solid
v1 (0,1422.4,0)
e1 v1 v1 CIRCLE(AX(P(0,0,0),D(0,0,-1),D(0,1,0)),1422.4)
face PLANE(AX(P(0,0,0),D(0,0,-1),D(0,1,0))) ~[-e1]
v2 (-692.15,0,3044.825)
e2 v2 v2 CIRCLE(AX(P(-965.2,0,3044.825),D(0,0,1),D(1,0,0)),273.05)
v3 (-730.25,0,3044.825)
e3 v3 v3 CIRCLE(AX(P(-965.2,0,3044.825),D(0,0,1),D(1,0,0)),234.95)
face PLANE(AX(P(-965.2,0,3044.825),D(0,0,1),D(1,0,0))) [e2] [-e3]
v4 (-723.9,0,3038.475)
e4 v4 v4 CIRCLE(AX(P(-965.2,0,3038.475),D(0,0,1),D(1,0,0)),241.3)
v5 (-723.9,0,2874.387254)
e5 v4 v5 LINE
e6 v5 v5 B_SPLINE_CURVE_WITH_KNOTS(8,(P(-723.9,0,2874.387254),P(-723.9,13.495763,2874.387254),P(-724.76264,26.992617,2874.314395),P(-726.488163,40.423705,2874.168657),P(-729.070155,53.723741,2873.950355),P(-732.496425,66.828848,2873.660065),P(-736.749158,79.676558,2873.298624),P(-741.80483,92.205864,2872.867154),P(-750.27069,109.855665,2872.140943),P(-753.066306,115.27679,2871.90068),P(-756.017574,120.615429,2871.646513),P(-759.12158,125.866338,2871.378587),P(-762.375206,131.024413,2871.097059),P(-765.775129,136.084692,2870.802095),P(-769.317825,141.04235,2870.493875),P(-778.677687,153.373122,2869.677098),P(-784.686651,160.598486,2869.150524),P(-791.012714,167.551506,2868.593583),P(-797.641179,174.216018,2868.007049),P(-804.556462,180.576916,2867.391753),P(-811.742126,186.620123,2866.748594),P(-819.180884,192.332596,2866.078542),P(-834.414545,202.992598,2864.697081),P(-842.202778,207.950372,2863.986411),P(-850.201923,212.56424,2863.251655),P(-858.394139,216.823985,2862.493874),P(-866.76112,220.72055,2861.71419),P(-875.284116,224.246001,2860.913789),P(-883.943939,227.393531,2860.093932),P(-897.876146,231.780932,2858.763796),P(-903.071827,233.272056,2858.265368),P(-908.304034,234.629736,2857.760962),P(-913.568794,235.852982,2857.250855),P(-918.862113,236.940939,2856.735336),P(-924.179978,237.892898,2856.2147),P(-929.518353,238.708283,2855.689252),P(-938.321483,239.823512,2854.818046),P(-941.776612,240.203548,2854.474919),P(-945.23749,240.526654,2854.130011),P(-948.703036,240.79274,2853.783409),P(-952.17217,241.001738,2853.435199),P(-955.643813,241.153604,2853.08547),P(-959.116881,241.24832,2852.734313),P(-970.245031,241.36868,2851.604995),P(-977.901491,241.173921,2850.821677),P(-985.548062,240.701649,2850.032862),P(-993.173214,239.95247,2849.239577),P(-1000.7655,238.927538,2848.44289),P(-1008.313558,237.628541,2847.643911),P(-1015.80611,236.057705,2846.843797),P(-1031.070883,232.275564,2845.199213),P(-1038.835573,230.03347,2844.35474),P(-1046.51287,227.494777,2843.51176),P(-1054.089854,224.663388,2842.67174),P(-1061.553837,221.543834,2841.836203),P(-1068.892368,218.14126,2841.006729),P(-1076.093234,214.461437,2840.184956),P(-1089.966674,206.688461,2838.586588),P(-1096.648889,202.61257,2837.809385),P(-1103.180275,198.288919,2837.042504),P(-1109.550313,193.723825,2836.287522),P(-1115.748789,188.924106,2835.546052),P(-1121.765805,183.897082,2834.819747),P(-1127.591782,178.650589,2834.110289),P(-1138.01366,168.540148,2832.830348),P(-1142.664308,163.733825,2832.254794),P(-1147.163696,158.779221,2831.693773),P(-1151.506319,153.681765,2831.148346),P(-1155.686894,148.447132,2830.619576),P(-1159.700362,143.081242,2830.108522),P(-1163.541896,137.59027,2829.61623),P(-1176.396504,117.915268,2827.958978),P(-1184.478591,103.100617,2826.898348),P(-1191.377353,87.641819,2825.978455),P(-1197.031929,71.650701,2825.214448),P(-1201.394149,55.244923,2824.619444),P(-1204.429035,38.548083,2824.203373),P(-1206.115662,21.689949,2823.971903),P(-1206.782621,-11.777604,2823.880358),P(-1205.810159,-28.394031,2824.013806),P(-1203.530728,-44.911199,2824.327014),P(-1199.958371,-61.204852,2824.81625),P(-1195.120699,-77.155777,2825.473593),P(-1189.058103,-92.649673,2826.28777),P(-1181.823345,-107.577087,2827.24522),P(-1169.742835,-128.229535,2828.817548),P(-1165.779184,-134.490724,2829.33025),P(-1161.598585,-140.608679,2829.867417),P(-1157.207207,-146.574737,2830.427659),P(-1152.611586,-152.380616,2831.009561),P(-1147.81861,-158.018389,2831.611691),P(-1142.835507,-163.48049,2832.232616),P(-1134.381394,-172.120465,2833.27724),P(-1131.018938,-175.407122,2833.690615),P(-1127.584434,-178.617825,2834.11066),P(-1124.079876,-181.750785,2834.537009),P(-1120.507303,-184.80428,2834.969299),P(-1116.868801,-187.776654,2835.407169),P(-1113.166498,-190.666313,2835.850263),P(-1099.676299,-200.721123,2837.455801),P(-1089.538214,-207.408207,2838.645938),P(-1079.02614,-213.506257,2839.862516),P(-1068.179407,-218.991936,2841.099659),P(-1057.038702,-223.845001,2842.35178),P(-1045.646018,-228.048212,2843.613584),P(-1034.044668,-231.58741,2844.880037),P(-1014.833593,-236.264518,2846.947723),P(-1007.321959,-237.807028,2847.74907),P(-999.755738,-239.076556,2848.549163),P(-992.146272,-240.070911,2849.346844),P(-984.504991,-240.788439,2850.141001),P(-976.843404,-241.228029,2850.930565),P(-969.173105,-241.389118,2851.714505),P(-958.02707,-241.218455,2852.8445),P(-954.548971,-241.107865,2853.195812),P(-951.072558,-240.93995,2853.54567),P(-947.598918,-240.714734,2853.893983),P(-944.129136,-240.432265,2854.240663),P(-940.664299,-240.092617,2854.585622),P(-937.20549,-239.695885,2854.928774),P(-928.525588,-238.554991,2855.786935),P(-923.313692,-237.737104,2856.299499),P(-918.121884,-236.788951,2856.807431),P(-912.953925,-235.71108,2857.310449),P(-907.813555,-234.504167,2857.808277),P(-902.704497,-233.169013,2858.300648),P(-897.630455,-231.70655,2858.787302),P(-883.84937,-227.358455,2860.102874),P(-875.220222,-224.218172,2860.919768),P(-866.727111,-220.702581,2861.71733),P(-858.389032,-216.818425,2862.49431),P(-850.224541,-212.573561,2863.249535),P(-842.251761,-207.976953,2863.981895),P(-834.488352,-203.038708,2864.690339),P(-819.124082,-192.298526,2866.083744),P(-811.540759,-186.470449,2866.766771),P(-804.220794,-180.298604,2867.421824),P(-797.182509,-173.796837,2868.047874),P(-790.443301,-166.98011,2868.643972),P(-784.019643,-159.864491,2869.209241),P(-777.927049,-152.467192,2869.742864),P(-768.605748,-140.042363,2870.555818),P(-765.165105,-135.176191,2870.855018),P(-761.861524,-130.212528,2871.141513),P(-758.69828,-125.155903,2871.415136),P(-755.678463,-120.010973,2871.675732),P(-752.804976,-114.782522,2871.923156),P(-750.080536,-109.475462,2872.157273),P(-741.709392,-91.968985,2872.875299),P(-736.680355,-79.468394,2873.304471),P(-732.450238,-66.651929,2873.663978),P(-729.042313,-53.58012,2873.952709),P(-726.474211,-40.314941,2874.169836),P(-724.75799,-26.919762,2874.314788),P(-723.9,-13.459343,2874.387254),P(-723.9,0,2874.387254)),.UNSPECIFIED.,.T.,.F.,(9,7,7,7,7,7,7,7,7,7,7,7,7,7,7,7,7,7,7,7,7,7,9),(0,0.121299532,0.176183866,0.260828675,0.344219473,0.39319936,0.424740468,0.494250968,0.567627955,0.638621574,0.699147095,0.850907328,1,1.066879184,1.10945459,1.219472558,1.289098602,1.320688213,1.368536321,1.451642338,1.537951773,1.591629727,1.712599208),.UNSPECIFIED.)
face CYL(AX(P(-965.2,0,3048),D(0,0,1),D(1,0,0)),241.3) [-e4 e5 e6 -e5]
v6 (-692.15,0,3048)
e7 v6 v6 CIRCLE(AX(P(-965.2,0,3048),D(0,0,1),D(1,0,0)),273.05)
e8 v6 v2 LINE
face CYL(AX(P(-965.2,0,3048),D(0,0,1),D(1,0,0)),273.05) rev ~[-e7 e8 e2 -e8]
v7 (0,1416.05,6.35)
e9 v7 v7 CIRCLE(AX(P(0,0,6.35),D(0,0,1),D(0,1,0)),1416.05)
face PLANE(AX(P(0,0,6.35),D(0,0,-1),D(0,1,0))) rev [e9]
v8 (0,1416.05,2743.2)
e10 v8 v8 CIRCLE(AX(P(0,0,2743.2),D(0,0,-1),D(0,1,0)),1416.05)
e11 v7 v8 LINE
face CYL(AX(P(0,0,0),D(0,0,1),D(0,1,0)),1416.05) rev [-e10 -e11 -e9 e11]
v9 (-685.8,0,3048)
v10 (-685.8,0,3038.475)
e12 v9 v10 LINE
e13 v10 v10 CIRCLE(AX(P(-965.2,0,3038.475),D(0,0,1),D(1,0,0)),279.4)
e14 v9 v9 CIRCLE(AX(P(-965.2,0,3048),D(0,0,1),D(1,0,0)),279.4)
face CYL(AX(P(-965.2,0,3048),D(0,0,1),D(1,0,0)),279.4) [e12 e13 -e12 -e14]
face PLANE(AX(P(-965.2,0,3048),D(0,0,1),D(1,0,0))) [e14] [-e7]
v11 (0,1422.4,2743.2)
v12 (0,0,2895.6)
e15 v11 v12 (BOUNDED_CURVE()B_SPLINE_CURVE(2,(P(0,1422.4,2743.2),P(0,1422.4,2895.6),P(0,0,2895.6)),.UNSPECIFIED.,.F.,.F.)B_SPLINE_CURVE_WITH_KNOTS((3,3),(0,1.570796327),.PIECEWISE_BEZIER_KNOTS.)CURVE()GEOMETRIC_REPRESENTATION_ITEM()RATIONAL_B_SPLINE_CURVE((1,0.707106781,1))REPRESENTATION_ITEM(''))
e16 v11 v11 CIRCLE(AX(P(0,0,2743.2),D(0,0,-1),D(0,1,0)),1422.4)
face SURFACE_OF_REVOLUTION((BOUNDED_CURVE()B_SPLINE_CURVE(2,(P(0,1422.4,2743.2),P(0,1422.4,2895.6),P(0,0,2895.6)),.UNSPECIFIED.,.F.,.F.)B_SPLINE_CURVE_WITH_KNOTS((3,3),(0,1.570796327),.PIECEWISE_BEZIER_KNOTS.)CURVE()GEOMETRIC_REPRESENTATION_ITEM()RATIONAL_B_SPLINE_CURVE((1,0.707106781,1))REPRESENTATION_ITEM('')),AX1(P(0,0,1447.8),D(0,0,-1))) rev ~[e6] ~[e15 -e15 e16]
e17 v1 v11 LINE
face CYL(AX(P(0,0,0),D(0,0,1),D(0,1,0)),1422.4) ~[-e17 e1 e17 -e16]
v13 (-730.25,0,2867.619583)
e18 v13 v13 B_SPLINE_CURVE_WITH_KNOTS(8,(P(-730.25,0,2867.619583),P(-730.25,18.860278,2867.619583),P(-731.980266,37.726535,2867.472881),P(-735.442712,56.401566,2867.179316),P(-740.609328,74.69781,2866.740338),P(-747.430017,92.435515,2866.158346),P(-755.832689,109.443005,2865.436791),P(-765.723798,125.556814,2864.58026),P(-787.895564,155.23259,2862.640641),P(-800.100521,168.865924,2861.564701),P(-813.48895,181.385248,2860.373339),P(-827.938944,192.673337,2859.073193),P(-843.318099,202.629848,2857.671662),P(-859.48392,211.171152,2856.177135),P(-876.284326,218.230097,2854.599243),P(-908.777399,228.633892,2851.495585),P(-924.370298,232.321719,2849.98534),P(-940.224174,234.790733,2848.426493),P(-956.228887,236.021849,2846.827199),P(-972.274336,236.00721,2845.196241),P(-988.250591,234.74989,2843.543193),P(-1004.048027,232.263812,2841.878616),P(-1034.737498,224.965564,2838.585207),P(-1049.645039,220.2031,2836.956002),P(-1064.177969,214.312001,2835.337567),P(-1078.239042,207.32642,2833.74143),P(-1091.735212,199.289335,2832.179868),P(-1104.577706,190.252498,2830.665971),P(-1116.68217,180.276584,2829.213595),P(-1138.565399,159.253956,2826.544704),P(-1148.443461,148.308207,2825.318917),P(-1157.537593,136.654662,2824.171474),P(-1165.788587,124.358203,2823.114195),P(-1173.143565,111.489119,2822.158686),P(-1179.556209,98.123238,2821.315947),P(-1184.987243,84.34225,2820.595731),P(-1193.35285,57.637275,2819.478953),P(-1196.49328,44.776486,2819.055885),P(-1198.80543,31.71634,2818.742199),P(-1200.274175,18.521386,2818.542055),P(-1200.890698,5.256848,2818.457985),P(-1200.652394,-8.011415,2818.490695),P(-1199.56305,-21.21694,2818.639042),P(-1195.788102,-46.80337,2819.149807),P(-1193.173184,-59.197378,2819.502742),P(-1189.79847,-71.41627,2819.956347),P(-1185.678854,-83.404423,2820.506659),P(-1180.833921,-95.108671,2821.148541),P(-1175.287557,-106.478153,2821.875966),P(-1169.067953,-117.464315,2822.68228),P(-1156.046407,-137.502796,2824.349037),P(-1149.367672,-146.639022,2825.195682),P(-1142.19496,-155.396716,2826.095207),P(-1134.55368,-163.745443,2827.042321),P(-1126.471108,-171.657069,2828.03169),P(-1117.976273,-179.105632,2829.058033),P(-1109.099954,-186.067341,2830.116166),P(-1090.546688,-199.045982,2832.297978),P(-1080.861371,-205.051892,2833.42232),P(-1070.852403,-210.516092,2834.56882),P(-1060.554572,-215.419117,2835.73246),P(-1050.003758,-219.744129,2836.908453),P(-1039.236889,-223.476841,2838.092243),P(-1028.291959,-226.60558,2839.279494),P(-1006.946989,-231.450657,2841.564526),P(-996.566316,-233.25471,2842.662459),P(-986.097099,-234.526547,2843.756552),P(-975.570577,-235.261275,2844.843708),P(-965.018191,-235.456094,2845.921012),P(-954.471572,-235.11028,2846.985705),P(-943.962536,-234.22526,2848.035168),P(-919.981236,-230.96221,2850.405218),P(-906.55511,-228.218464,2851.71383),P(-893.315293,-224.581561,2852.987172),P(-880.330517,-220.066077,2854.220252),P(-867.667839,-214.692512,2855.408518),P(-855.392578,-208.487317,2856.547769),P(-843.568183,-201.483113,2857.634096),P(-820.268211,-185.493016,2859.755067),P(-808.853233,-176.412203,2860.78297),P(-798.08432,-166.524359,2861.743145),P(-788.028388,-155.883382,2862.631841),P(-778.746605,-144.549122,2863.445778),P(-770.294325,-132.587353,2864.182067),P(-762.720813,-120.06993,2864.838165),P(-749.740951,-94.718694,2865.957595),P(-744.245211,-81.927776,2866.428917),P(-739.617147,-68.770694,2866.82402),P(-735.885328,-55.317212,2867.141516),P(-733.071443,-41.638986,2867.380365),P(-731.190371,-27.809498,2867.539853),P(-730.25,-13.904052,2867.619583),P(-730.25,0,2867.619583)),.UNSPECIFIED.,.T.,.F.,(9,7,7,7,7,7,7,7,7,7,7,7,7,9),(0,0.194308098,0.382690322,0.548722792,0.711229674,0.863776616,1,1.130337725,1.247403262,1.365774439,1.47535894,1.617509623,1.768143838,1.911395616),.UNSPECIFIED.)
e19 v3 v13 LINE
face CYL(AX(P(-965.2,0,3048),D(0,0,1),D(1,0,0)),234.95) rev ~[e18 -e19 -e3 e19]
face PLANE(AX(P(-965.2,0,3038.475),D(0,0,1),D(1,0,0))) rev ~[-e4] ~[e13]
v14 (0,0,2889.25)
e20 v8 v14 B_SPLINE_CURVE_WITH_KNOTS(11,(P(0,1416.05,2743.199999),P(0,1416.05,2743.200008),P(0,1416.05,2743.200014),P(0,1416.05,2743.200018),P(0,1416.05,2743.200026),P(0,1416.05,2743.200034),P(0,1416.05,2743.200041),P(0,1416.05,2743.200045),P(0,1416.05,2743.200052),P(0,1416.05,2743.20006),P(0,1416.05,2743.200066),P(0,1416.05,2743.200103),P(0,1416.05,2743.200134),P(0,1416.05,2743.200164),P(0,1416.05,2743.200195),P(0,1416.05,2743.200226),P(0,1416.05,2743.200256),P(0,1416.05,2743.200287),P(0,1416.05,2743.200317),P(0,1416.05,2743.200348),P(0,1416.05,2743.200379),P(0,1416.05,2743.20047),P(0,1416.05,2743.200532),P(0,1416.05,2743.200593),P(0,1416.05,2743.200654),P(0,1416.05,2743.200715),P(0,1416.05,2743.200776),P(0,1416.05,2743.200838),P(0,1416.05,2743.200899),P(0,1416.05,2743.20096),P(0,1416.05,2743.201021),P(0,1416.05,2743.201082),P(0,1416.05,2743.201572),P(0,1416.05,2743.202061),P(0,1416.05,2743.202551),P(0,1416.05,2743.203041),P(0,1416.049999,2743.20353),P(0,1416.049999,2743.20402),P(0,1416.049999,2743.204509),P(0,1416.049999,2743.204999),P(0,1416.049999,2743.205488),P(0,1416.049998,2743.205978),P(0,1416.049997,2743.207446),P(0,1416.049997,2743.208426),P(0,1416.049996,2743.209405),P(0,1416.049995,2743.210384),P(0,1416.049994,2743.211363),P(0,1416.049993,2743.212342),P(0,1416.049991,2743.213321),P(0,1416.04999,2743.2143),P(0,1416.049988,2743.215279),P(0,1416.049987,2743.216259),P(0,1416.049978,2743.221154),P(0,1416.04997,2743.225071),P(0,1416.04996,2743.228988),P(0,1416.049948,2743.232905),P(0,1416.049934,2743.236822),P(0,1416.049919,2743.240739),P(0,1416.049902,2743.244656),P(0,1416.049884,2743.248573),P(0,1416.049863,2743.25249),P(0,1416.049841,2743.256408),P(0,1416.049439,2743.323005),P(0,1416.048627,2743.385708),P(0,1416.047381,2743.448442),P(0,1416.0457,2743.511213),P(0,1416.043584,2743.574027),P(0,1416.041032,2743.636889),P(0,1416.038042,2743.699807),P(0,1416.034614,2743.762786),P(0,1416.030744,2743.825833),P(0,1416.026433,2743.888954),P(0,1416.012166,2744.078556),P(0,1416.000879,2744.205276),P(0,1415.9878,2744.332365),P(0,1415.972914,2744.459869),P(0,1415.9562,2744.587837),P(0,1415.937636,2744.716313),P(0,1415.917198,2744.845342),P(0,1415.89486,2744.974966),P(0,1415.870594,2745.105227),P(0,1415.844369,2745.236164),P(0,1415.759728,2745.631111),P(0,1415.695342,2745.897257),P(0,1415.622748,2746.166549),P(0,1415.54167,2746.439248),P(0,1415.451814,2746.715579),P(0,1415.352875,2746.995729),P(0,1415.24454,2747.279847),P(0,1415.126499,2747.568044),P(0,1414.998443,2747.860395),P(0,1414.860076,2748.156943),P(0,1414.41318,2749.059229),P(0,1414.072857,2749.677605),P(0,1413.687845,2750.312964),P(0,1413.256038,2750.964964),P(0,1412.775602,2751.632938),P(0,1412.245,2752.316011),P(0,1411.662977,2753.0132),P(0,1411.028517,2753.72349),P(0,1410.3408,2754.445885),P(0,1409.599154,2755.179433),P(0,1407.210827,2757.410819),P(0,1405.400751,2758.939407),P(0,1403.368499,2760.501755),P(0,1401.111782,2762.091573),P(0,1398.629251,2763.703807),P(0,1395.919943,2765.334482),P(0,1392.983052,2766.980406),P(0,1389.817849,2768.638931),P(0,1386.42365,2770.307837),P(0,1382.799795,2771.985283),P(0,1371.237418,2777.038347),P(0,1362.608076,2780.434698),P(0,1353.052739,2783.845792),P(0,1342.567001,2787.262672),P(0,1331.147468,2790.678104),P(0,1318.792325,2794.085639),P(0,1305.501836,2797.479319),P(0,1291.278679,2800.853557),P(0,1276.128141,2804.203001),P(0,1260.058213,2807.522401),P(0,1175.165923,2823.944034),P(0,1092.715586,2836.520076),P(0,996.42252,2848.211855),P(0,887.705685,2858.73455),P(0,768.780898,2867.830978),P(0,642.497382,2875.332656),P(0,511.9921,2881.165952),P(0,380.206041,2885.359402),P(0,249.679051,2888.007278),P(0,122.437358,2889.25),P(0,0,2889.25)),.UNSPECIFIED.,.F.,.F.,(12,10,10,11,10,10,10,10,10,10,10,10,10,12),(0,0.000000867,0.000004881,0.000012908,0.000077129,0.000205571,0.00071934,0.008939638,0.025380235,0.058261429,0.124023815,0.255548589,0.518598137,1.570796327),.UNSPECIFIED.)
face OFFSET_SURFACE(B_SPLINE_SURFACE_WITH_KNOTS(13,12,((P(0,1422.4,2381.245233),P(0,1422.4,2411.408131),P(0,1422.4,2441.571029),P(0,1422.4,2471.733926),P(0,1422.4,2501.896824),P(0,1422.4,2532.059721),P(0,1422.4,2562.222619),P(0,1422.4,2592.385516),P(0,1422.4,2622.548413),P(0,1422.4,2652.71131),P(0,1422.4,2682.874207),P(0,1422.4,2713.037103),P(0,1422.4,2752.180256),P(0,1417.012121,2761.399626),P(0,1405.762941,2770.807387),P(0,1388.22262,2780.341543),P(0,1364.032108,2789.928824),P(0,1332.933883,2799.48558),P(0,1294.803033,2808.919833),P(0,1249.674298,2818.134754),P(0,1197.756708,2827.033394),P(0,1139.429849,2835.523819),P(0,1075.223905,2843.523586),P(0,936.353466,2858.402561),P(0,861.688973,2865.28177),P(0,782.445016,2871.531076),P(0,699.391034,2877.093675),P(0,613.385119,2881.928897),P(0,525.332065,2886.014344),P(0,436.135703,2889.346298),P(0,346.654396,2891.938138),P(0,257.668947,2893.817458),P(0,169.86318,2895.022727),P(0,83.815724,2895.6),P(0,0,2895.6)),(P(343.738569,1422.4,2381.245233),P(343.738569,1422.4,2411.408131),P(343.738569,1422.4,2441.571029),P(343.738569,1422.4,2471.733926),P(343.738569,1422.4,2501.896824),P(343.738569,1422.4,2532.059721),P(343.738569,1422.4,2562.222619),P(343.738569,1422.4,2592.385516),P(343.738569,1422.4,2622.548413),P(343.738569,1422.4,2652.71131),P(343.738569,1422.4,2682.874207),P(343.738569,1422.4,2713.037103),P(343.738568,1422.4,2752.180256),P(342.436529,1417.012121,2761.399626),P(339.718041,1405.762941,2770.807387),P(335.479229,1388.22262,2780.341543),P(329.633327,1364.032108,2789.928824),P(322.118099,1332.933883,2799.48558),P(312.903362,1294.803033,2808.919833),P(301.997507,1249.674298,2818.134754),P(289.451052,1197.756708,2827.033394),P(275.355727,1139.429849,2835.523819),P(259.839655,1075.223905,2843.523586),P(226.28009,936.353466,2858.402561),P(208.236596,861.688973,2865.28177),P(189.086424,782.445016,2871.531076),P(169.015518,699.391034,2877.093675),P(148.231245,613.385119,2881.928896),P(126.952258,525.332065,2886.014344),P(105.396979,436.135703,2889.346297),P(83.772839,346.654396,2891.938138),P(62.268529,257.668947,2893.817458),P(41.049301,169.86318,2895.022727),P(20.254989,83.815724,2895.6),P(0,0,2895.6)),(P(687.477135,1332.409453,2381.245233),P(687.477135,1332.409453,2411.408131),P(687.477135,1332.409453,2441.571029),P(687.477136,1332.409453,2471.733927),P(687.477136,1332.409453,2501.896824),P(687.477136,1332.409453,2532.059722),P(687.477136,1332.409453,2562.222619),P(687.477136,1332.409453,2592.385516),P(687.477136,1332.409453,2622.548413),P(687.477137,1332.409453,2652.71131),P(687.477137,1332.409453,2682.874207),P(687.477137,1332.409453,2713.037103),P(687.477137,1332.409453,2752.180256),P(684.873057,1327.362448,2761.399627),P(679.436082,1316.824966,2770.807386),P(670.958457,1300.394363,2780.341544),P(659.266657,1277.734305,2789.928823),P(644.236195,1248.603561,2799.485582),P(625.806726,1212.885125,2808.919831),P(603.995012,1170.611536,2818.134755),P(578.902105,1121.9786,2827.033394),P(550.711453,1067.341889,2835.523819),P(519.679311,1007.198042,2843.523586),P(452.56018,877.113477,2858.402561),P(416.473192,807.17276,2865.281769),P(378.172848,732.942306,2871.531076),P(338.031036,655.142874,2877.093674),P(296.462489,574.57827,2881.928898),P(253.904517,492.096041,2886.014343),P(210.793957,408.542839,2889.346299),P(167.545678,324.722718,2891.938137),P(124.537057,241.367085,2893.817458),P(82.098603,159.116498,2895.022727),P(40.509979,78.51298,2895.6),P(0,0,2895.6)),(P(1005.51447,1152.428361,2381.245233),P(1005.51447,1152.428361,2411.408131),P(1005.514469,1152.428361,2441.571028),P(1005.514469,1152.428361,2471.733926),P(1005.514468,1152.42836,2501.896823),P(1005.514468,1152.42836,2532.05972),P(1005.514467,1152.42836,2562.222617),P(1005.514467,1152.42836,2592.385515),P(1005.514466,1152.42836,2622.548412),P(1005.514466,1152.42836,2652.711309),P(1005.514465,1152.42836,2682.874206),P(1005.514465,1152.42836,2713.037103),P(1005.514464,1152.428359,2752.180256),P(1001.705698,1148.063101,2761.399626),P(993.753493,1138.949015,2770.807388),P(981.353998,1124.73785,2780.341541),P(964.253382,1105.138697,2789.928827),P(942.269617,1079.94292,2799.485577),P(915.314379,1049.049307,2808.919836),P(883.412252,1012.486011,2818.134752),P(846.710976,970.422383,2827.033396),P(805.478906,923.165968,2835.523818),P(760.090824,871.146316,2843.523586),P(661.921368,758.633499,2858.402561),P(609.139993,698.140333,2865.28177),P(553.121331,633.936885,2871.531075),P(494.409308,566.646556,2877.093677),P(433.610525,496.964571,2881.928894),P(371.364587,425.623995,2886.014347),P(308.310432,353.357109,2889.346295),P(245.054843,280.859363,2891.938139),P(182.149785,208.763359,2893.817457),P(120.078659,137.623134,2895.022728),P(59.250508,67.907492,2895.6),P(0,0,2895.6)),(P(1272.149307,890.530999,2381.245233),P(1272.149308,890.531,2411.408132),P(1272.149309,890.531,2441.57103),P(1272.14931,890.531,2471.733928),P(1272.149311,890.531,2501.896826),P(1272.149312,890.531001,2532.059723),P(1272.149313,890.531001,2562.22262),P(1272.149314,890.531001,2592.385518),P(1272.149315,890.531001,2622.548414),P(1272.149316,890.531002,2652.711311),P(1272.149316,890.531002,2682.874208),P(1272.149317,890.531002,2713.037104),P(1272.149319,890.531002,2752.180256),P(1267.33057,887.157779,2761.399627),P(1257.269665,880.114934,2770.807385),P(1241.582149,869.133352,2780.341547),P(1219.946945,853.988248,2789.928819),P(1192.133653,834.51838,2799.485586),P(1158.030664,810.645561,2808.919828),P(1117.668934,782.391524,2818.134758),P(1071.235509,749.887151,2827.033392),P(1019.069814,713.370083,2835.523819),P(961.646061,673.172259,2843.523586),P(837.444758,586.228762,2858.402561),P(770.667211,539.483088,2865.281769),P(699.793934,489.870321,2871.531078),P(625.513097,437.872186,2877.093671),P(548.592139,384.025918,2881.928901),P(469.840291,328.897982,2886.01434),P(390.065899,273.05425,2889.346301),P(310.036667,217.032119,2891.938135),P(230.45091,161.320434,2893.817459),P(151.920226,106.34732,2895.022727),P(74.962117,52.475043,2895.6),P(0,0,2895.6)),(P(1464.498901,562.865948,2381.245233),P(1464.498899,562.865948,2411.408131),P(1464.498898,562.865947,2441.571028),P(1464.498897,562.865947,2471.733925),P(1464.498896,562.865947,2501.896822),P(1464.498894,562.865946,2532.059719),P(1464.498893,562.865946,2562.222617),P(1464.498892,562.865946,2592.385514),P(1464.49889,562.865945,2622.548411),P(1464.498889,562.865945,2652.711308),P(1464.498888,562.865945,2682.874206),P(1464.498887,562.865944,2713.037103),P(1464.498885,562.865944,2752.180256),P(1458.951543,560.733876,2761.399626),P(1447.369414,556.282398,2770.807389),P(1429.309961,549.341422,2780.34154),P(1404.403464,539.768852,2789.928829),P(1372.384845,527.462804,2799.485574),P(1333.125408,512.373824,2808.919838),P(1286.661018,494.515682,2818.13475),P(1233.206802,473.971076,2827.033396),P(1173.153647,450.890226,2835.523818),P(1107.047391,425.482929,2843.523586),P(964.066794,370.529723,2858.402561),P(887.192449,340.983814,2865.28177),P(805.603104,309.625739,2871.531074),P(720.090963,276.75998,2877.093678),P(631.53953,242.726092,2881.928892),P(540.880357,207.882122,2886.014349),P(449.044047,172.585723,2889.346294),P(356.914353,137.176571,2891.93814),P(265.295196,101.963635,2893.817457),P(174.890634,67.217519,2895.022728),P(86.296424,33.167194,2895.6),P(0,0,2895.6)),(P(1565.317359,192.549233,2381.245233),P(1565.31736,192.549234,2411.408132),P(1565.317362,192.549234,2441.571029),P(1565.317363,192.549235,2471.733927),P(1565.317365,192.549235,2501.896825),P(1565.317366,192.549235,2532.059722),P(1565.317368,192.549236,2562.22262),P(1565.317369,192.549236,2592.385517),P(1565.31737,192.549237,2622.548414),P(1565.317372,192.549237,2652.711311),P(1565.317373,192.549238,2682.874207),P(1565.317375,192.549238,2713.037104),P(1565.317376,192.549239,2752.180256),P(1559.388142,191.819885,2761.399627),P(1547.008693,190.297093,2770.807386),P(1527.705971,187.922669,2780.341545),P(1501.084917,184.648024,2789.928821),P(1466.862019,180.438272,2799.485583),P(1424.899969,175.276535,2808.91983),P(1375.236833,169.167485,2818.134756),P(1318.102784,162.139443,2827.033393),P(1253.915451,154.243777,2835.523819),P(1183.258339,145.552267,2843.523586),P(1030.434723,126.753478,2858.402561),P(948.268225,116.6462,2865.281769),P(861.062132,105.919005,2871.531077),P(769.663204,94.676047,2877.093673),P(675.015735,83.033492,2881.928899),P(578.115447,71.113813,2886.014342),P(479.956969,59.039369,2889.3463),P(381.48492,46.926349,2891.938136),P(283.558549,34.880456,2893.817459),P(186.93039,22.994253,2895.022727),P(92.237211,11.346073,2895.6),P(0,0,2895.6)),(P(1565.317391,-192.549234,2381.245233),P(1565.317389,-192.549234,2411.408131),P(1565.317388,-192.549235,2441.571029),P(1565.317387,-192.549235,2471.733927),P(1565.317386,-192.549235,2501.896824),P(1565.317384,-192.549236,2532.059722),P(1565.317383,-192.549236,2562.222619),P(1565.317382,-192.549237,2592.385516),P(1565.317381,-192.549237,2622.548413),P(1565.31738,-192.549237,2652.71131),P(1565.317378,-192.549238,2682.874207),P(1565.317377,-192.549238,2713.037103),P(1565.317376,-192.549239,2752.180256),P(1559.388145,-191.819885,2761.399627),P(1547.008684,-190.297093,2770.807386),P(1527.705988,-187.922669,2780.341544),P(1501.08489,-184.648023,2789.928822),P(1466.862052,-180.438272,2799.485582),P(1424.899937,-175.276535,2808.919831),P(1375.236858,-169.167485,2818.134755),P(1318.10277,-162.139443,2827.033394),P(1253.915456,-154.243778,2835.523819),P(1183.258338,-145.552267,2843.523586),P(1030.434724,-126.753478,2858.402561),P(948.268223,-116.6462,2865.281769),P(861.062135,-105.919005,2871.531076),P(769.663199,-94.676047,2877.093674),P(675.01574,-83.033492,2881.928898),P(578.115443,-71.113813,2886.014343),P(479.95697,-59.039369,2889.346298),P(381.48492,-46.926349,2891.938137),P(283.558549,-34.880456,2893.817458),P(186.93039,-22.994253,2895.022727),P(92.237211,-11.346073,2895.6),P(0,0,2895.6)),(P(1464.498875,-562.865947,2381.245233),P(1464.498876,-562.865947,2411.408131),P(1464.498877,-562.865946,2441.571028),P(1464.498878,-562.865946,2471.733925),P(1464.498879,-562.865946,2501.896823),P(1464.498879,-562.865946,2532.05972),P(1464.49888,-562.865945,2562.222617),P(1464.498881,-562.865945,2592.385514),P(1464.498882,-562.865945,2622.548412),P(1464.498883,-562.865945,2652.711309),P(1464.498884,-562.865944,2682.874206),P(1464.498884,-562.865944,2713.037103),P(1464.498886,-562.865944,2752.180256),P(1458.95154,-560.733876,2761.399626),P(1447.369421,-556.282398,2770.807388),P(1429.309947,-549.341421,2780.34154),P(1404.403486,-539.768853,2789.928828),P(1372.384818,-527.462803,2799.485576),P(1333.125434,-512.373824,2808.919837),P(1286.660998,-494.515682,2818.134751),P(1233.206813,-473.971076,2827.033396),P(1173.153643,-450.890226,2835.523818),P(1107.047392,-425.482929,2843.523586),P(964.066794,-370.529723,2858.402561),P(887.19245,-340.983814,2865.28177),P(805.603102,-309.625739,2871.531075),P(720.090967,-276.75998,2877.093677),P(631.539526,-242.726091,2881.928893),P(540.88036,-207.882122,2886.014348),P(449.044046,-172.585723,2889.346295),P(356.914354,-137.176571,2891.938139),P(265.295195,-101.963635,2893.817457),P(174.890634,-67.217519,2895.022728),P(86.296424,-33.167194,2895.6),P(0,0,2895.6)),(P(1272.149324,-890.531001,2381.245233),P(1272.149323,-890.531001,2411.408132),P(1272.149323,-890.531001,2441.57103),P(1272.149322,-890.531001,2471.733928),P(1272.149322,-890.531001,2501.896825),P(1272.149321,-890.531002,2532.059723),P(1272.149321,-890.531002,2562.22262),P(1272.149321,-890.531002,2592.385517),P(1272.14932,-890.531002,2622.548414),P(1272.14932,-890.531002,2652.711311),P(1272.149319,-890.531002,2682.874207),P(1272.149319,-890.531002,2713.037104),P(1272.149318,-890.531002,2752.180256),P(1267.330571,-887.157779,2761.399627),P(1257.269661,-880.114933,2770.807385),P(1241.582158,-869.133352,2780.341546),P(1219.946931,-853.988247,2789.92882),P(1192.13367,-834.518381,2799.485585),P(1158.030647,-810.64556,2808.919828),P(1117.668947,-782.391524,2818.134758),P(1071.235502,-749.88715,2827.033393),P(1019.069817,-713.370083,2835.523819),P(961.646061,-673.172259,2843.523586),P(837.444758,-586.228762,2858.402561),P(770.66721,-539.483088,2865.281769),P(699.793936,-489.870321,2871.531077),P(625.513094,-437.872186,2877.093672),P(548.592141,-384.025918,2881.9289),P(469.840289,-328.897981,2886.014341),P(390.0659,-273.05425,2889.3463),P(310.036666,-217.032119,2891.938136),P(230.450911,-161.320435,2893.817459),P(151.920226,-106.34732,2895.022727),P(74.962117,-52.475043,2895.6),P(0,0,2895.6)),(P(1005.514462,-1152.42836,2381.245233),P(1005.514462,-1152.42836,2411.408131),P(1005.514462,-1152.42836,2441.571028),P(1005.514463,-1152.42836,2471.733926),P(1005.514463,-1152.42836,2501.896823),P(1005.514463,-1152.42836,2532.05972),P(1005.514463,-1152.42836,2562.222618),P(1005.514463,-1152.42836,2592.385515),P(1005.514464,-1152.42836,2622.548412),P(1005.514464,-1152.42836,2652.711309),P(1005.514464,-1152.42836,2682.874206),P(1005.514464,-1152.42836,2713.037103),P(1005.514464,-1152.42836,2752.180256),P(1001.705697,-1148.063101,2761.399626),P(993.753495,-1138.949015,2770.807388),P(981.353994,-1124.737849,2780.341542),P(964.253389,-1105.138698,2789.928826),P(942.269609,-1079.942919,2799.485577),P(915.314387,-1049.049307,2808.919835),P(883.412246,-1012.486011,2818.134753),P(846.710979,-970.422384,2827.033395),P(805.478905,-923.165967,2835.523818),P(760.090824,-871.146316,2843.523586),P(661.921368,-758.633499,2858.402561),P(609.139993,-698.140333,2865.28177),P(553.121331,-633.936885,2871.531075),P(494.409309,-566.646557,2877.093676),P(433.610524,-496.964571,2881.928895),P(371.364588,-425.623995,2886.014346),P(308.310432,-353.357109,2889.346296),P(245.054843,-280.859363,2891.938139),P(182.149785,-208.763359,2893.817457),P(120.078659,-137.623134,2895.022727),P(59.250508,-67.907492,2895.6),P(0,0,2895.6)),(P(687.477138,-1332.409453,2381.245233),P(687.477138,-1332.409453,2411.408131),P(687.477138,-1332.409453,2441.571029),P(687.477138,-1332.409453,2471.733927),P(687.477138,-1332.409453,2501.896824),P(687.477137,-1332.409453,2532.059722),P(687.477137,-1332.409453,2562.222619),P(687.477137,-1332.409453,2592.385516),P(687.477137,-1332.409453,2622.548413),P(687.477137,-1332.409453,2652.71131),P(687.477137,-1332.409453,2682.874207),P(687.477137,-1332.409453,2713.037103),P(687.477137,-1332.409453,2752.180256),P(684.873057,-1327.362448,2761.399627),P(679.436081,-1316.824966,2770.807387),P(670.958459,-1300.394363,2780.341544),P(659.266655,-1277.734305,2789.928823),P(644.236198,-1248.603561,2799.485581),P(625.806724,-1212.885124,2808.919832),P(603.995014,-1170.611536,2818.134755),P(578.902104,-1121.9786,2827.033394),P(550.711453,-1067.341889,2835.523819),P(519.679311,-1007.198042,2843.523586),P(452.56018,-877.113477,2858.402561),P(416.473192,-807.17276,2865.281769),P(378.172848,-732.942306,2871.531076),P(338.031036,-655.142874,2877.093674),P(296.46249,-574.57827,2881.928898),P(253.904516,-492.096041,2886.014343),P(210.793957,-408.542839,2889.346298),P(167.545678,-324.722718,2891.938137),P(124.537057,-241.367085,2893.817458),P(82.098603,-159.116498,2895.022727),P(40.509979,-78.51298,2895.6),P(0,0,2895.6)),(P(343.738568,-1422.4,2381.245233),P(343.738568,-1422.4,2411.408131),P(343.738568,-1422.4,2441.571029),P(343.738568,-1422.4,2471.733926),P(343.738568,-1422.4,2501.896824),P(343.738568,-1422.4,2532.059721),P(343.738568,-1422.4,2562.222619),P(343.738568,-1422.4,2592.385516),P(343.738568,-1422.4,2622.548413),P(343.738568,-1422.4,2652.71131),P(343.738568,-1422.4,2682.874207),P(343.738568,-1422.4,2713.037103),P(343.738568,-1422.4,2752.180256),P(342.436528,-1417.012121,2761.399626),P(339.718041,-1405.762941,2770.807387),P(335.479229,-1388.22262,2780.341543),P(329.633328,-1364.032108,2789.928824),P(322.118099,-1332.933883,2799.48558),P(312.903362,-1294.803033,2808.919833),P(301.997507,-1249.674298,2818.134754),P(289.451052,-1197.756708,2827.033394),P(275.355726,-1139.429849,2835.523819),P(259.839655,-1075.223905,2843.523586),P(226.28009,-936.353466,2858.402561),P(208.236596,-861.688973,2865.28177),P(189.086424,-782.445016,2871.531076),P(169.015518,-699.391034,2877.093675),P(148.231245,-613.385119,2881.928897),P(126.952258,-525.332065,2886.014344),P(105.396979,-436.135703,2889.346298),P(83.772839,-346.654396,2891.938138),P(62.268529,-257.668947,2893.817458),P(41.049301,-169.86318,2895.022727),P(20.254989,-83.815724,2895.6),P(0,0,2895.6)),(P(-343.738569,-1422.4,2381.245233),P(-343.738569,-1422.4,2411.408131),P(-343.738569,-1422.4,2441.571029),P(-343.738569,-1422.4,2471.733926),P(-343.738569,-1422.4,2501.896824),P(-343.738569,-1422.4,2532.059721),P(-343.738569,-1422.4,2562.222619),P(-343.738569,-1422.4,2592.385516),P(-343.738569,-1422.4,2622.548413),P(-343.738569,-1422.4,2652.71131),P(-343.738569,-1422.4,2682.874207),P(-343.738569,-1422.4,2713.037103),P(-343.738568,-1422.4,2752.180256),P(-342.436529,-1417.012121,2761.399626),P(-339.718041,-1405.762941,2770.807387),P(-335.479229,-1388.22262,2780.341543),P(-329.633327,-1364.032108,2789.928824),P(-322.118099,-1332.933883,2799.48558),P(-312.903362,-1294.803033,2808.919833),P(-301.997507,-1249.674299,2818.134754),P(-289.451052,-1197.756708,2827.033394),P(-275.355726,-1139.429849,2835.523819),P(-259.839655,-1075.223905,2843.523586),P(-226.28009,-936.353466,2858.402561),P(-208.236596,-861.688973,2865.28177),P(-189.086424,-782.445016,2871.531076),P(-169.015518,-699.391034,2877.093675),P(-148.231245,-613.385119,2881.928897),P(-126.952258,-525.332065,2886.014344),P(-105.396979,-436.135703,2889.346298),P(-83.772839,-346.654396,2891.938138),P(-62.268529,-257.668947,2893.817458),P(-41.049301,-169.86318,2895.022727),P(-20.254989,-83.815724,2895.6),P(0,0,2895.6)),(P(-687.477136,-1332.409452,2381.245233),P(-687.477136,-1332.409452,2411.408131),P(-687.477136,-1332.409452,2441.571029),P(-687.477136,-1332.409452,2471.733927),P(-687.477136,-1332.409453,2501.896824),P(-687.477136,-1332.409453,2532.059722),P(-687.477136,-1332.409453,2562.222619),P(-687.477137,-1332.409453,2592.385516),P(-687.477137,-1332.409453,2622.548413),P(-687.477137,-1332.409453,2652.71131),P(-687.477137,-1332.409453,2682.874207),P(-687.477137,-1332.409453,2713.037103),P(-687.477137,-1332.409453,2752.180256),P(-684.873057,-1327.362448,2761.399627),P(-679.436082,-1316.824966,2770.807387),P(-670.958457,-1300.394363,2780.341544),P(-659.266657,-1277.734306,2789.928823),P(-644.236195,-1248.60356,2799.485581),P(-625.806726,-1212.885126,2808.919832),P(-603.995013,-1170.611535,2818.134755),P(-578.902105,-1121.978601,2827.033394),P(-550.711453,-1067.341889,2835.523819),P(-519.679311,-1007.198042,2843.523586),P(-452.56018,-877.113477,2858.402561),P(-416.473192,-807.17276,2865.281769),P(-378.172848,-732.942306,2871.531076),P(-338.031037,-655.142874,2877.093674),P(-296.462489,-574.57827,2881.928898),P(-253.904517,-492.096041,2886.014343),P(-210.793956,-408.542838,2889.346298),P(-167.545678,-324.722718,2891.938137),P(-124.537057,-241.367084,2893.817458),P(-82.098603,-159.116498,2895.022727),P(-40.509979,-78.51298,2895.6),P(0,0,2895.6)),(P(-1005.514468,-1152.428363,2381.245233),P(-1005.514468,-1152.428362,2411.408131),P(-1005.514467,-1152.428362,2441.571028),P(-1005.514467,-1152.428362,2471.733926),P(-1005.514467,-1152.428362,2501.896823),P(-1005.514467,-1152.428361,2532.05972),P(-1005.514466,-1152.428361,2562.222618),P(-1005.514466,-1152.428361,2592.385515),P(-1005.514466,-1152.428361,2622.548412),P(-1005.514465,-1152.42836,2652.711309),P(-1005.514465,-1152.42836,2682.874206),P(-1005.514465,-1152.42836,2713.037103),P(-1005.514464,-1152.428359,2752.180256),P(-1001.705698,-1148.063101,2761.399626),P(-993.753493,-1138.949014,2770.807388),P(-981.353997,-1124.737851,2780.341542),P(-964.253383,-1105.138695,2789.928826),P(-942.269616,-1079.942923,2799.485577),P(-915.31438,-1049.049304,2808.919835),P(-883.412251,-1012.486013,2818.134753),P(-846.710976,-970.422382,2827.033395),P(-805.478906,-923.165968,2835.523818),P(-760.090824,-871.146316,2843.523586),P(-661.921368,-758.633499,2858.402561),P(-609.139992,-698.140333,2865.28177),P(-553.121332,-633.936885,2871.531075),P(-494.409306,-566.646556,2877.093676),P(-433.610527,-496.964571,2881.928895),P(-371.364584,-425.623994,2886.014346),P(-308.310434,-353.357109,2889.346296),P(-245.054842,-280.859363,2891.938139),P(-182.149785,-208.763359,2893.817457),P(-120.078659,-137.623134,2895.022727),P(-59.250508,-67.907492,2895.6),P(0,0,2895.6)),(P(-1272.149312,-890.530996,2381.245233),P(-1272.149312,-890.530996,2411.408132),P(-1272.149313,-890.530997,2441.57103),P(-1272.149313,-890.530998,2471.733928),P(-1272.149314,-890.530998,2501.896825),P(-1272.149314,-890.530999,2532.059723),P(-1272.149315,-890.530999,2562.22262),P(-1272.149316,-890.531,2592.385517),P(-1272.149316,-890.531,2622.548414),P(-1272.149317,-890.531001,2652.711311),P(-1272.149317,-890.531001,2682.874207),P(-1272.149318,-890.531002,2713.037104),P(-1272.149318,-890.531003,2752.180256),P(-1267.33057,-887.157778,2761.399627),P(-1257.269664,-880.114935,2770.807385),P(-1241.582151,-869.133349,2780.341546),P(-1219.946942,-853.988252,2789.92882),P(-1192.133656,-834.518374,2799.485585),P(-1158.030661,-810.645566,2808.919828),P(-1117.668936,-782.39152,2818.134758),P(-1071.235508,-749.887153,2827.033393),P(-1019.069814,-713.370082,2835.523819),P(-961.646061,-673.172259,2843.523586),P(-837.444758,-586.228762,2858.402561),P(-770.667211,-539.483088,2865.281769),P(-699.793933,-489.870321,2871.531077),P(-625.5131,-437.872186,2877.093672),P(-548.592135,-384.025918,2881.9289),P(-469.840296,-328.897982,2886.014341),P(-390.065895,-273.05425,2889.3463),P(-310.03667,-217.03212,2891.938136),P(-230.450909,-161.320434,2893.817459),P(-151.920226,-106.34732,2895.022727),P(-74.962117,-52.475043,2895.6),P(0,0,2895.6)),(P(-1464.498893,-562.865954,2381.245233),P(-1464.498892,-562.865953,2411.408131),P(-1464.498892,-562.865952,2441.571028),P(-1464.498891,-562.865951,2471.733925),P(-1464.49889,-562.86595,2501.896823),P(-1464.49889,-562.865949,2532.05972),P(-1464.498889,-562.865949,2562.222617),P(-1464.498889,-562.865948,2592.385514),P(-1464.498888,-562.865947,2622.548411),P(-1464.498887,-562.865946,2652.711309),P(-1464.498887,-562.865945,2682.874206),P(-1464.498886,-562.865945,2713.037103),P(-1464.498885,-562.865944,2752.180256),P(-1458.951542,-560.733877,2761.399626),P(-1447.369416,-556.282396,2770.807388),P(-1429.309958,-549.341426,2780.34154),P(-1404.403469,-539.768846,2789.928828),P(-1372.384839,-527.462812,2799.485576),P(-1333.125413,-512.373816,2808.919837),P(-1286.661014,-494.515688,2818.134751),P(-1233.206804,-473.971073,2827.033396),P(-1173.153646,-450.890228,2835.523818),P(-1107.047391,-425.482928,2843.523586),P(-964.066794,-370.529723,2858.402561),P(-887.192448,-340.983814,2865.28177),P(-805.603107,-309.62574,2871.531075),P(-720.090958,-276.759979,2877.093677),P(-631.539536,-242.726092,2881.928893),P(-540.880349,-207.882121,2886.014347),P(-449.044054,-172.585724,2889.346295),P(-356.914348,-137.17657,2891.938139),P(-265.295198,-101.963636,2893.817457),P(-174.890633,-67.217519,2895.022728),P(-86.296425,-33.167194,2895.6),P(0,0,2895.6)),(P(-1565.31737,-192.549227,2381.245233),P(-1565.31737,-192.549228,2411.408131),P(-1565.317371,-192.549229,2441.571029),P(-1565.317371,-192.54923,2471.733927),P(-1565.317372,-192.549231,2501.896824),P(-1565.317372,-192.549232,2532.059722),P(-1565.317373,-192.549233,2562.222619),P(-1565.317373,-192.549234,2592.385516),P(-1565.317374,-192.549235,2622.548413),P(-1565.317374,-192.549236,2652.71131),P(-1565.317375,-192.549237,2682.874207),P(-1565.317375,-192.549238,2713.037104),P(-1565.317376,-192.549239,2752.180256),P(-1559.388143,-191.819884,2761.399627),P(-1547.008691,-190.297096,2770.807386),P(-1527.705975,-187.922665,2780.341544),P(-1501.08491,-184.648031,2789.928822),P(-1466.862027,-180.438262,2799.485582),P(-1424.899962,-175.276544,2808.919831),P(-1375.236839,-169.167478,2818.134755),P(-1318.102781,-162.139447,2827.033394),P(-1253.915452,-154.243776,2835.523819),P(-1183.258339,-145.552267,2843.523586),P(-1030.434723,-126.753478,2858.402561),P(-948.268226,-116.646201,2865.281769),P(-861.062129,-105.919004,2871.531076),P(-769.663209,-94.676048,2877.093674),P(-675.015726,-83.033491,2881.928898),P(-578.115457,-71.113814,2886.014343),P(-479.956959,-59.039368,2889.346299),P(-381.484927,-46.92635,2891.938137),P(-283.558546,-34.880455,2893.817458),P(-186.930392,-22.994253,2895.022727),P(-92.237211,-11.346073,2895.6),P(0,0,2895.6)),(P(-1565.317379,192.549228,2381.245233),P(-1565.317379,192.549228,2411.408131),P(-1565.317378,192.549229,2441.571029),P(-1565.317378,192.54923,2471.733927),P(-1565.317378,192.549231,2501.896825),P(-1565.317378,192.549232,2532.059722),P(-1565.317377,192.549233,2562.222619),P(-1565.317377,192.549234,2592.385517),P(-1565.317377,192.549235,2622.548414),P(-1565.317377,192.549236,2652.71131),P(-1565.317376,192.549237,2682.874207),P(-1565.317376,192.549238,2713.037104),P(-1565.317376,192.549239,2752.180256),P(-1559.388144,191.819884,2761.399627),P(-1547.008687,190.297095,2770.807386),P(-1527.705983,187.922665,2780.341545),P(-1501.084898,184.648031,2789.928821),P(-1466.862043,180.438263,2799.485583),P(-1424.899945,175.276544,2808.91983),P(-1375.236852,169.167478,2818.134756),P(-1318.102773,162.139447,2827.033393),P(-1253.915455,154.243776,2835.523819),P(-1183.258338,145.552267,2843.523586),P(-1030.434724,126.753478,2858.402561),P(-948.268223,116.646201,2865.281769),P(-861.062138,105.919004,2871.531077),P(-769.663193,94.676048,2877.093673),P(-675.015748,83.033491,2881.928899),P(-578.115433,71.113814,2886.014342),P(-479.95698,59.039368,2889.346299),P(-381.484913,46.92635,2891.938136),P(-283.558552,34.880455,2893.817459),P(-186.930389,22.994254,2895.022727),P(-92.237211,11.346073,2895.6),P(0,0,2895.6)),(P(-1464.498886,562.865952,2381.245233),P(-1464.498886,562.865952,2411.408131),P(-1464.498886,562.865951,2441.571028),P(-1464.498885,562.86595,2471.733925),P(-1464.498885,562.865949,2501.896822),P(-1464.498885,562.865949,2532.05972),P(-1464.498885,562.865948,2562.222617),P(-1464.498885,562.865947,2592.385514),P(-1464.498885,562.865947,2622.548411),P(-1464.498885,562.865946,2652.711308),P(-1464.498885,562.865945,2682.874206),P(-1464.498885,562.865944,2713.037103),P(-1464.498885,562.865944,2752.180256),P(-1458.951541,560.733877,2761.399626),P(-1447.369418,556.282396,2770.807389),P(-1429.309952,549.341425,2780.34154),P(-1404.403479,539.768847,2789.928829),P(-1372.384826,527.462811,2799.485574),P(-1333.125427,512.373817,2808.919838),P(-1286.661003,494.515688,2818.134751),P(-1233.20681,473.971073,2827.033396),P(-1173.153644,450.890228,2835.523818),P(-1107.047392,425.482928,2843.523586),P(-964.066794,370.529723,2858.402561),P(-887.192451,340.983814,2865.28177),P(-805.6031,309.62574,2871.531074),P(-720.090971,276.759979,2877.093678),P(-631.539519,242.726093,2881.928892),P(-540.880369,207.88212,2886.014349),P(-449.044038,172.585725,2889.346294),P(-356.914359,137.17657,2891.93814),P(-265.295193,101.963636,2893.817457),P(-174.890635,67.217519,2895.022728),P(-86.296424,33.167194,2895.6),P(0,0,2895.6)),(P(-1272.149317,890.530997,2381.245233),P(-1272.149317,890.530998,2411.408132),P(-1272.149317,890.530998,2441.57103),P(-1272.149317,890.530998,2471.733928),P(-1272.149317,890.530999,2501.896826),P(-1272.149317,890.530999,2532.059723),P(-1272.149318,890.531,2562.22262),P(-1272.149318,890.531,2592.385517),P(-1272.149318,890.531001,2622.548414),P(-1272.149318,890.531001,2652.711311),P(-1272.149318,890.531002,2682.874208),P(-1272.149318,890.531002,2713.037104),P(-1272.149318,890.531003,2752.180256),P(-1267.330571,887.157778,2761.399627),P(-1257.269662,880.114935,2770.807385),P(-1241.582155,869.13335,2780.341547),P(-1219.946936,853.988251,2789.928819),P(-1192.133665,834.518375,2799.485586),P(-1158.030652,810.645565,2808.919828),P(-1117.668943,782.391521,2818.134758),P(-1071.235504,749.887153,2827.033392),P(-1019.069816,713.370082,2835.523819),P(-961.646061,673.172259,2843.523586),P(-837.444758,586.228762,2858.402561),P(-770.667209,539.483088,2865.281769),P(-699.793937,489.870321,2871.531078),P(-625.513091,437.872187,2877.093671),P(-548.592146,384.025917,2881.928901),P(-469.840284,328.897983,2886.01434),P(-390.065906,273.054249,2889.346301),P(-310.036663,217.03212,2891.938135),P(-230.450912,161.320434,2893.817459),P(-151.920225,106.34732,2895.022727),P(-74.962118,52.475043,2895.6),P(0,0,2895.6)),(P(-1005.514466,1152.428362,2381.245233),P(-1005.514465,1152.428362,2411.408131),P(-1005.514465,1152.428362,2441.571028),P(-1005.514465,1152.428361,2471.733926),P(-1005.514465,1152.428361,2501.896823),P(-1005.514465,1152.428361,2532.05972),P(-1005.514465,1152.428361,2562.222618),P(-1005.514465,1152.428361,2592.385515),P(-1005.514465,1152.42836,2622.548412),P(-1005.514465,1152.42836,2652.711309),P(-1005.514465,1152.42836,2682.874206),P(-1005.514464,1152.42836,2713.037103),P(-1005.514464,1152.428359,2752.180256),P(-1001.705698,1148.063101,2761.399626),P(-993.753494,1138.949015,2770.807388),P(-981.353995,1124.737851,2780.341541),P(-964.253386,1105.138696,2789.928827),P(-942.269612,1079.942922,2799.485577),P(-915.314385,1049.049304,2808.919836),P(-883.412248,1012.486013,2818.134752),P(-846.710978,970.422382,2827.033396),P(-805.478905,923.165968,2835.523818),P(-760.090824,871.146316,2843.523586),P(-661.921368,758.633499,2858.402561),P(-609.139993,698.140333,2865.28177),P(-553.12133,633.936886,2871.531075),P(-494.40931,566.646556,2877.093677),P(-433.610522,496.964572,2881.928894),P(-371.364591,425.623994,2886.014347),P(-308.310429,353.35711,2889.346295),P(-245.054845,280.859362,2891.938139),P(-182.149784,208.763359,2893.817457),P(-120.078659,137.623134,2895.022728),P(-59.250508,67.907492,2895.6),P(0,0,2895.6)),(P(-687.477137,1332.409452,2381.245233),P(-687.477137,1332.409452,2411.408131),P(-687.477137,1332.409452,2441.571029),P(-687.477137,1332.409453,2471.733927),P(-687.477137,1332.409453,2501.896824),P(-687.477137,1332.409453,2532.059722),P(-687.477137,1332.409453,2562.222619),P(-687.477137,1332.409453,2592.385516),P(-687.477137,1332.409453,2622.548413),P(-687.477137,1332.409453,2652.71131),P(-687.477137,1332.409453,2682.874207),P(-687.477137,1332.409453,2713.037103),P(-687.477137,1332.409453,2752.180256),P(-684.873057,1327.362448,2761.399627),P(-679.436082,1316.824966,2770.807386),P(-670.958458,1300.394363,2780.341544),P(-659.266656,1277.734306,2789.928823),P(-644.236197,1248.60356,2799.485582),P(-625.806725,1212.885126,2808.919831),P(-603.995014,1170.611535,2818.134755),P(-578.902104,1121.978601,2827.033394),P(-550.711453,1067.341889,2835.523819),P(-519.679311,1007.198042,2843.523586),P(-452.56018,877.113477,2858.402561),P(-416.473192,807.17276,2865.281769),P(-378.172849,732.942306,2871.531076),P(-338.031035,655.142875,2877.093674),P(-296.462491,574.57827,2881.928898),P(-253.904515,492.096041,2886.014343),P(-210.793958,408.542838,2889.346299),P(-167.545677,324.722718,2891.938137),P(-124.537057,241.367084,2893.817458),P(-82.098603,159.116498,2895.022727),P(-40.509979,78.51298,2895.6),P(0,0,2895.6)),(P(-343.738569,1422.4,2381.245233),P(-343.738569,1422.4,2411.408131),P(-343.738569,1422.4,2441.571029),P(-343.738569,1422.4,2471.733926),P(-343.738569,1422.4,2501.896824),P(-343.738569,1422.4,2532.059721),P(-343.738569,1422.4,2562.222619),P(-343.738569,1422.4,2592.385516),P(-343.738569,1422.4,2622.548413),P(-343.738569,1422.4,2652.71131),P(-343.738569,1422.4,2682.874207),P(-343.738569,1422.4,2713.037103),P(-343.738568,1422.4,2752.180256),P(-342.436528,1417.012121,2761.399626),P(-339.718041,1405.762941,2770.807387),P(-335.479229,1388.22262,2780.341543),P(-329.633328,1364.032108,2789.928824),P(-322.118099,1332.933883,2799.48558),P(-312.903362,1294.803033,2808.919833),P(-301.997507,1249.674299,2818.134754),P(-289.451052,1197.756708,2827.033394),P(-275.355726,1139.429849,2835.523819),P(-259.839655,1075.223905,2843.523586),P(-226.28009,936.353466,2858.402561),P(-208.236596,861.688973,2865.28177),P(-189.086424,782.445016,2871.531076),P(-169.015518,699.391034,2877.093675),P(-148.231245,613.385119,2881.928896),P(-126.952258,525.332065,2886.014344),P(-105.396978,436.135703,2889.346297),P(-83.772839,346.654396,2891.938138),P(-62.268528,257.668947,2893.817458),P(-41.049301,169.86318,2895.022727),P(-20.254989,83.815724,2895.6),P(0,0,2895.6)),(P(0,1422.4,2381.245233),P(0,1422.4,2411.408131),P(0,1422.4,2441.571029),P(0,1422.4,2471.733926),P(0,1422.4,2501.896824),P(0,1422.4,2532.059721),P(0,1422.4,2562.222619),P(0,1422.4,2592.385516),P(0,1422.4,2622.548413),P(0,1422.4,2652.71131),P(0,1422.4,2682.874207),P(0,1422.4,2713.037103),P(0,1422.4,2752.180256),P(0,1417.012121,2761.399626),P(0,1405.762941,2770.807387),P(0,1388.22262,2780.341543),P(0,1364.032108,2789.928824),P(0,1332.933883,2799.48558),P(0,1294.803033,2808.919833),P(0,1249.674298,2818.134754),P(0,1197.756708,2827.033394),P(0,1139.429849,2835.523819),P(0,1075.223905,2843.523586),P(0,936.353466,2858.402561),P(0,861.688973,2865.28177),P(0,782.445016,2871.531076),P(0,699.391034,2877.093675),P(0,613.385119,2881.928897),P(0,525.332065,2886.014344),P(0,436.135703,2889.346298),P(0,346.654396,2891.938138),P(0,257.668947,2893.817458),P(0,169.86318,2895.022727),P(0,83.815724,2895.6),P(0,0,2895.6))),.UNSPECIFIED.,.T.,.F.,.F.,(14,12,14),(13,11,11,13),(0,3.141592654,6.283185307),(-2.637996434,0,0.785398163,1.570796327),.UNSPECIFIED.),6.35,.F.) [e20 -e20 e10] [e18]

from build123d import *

# Parameters (mm, degrees)
F3_R     = 241.3
F3_R_2   = 279.4
F5_DEPTH = 9.525
F6_T     = -6.35


with BuildPart() as f1:
    # F0 (on Right) → F1 (revolve)
    with BuildSketch(Plane.YZ):
        with BuildLine():
            Line((0, 2895.6), (0, 0))
            Line((0, 0), (1422.4, 0))
            Line((1422.4, 0), (1422.4, 2743.2))
            add(Edge.make_bspline(
                [(1422.4, 2743.2), (1422.4, 2895.6), (0, 2895.6)],
                knots=[0, 0, 0, 1.5707963268, 1.5707963268, 1.5707963268], degree=2, weights=[1, 0.7071067812, 1]))
        make_face()
    revolve(axis=Axis((0, 0, 1447.8), (0, 0, -1)))

    # F3 (on offset) → F4 (join, up to the next surface of F1)
    with BuildSketch(Plane.XY.offset(3048)):
        with Locations((-965.2, 0)):
            Circle(F3_R)
    extrude(until=Until.NEXT, dir=(0, 0, -1))

    # F3 (on offset) → F5 (join)
    with BuildSketch(Plane.XY.offset(3048)):
        with Locations((-965.2, 0)):
            Circle(F3_R_2)
        with Locations((-965.2, 0)):
            Circle(F3_R, mode=Mode.SUBTRACT)
    extrude(amount=-F5_DEPTH)

    # F6
    f6_openings = [f1.faces().sort_by_distance(p)[0] for p in [
        (-965.2, 0, 3048),
    ]]
    offset(amount=F6_T, openings=f6_openings, kind=Kind.INTERSECTION)


solid = f1.part
